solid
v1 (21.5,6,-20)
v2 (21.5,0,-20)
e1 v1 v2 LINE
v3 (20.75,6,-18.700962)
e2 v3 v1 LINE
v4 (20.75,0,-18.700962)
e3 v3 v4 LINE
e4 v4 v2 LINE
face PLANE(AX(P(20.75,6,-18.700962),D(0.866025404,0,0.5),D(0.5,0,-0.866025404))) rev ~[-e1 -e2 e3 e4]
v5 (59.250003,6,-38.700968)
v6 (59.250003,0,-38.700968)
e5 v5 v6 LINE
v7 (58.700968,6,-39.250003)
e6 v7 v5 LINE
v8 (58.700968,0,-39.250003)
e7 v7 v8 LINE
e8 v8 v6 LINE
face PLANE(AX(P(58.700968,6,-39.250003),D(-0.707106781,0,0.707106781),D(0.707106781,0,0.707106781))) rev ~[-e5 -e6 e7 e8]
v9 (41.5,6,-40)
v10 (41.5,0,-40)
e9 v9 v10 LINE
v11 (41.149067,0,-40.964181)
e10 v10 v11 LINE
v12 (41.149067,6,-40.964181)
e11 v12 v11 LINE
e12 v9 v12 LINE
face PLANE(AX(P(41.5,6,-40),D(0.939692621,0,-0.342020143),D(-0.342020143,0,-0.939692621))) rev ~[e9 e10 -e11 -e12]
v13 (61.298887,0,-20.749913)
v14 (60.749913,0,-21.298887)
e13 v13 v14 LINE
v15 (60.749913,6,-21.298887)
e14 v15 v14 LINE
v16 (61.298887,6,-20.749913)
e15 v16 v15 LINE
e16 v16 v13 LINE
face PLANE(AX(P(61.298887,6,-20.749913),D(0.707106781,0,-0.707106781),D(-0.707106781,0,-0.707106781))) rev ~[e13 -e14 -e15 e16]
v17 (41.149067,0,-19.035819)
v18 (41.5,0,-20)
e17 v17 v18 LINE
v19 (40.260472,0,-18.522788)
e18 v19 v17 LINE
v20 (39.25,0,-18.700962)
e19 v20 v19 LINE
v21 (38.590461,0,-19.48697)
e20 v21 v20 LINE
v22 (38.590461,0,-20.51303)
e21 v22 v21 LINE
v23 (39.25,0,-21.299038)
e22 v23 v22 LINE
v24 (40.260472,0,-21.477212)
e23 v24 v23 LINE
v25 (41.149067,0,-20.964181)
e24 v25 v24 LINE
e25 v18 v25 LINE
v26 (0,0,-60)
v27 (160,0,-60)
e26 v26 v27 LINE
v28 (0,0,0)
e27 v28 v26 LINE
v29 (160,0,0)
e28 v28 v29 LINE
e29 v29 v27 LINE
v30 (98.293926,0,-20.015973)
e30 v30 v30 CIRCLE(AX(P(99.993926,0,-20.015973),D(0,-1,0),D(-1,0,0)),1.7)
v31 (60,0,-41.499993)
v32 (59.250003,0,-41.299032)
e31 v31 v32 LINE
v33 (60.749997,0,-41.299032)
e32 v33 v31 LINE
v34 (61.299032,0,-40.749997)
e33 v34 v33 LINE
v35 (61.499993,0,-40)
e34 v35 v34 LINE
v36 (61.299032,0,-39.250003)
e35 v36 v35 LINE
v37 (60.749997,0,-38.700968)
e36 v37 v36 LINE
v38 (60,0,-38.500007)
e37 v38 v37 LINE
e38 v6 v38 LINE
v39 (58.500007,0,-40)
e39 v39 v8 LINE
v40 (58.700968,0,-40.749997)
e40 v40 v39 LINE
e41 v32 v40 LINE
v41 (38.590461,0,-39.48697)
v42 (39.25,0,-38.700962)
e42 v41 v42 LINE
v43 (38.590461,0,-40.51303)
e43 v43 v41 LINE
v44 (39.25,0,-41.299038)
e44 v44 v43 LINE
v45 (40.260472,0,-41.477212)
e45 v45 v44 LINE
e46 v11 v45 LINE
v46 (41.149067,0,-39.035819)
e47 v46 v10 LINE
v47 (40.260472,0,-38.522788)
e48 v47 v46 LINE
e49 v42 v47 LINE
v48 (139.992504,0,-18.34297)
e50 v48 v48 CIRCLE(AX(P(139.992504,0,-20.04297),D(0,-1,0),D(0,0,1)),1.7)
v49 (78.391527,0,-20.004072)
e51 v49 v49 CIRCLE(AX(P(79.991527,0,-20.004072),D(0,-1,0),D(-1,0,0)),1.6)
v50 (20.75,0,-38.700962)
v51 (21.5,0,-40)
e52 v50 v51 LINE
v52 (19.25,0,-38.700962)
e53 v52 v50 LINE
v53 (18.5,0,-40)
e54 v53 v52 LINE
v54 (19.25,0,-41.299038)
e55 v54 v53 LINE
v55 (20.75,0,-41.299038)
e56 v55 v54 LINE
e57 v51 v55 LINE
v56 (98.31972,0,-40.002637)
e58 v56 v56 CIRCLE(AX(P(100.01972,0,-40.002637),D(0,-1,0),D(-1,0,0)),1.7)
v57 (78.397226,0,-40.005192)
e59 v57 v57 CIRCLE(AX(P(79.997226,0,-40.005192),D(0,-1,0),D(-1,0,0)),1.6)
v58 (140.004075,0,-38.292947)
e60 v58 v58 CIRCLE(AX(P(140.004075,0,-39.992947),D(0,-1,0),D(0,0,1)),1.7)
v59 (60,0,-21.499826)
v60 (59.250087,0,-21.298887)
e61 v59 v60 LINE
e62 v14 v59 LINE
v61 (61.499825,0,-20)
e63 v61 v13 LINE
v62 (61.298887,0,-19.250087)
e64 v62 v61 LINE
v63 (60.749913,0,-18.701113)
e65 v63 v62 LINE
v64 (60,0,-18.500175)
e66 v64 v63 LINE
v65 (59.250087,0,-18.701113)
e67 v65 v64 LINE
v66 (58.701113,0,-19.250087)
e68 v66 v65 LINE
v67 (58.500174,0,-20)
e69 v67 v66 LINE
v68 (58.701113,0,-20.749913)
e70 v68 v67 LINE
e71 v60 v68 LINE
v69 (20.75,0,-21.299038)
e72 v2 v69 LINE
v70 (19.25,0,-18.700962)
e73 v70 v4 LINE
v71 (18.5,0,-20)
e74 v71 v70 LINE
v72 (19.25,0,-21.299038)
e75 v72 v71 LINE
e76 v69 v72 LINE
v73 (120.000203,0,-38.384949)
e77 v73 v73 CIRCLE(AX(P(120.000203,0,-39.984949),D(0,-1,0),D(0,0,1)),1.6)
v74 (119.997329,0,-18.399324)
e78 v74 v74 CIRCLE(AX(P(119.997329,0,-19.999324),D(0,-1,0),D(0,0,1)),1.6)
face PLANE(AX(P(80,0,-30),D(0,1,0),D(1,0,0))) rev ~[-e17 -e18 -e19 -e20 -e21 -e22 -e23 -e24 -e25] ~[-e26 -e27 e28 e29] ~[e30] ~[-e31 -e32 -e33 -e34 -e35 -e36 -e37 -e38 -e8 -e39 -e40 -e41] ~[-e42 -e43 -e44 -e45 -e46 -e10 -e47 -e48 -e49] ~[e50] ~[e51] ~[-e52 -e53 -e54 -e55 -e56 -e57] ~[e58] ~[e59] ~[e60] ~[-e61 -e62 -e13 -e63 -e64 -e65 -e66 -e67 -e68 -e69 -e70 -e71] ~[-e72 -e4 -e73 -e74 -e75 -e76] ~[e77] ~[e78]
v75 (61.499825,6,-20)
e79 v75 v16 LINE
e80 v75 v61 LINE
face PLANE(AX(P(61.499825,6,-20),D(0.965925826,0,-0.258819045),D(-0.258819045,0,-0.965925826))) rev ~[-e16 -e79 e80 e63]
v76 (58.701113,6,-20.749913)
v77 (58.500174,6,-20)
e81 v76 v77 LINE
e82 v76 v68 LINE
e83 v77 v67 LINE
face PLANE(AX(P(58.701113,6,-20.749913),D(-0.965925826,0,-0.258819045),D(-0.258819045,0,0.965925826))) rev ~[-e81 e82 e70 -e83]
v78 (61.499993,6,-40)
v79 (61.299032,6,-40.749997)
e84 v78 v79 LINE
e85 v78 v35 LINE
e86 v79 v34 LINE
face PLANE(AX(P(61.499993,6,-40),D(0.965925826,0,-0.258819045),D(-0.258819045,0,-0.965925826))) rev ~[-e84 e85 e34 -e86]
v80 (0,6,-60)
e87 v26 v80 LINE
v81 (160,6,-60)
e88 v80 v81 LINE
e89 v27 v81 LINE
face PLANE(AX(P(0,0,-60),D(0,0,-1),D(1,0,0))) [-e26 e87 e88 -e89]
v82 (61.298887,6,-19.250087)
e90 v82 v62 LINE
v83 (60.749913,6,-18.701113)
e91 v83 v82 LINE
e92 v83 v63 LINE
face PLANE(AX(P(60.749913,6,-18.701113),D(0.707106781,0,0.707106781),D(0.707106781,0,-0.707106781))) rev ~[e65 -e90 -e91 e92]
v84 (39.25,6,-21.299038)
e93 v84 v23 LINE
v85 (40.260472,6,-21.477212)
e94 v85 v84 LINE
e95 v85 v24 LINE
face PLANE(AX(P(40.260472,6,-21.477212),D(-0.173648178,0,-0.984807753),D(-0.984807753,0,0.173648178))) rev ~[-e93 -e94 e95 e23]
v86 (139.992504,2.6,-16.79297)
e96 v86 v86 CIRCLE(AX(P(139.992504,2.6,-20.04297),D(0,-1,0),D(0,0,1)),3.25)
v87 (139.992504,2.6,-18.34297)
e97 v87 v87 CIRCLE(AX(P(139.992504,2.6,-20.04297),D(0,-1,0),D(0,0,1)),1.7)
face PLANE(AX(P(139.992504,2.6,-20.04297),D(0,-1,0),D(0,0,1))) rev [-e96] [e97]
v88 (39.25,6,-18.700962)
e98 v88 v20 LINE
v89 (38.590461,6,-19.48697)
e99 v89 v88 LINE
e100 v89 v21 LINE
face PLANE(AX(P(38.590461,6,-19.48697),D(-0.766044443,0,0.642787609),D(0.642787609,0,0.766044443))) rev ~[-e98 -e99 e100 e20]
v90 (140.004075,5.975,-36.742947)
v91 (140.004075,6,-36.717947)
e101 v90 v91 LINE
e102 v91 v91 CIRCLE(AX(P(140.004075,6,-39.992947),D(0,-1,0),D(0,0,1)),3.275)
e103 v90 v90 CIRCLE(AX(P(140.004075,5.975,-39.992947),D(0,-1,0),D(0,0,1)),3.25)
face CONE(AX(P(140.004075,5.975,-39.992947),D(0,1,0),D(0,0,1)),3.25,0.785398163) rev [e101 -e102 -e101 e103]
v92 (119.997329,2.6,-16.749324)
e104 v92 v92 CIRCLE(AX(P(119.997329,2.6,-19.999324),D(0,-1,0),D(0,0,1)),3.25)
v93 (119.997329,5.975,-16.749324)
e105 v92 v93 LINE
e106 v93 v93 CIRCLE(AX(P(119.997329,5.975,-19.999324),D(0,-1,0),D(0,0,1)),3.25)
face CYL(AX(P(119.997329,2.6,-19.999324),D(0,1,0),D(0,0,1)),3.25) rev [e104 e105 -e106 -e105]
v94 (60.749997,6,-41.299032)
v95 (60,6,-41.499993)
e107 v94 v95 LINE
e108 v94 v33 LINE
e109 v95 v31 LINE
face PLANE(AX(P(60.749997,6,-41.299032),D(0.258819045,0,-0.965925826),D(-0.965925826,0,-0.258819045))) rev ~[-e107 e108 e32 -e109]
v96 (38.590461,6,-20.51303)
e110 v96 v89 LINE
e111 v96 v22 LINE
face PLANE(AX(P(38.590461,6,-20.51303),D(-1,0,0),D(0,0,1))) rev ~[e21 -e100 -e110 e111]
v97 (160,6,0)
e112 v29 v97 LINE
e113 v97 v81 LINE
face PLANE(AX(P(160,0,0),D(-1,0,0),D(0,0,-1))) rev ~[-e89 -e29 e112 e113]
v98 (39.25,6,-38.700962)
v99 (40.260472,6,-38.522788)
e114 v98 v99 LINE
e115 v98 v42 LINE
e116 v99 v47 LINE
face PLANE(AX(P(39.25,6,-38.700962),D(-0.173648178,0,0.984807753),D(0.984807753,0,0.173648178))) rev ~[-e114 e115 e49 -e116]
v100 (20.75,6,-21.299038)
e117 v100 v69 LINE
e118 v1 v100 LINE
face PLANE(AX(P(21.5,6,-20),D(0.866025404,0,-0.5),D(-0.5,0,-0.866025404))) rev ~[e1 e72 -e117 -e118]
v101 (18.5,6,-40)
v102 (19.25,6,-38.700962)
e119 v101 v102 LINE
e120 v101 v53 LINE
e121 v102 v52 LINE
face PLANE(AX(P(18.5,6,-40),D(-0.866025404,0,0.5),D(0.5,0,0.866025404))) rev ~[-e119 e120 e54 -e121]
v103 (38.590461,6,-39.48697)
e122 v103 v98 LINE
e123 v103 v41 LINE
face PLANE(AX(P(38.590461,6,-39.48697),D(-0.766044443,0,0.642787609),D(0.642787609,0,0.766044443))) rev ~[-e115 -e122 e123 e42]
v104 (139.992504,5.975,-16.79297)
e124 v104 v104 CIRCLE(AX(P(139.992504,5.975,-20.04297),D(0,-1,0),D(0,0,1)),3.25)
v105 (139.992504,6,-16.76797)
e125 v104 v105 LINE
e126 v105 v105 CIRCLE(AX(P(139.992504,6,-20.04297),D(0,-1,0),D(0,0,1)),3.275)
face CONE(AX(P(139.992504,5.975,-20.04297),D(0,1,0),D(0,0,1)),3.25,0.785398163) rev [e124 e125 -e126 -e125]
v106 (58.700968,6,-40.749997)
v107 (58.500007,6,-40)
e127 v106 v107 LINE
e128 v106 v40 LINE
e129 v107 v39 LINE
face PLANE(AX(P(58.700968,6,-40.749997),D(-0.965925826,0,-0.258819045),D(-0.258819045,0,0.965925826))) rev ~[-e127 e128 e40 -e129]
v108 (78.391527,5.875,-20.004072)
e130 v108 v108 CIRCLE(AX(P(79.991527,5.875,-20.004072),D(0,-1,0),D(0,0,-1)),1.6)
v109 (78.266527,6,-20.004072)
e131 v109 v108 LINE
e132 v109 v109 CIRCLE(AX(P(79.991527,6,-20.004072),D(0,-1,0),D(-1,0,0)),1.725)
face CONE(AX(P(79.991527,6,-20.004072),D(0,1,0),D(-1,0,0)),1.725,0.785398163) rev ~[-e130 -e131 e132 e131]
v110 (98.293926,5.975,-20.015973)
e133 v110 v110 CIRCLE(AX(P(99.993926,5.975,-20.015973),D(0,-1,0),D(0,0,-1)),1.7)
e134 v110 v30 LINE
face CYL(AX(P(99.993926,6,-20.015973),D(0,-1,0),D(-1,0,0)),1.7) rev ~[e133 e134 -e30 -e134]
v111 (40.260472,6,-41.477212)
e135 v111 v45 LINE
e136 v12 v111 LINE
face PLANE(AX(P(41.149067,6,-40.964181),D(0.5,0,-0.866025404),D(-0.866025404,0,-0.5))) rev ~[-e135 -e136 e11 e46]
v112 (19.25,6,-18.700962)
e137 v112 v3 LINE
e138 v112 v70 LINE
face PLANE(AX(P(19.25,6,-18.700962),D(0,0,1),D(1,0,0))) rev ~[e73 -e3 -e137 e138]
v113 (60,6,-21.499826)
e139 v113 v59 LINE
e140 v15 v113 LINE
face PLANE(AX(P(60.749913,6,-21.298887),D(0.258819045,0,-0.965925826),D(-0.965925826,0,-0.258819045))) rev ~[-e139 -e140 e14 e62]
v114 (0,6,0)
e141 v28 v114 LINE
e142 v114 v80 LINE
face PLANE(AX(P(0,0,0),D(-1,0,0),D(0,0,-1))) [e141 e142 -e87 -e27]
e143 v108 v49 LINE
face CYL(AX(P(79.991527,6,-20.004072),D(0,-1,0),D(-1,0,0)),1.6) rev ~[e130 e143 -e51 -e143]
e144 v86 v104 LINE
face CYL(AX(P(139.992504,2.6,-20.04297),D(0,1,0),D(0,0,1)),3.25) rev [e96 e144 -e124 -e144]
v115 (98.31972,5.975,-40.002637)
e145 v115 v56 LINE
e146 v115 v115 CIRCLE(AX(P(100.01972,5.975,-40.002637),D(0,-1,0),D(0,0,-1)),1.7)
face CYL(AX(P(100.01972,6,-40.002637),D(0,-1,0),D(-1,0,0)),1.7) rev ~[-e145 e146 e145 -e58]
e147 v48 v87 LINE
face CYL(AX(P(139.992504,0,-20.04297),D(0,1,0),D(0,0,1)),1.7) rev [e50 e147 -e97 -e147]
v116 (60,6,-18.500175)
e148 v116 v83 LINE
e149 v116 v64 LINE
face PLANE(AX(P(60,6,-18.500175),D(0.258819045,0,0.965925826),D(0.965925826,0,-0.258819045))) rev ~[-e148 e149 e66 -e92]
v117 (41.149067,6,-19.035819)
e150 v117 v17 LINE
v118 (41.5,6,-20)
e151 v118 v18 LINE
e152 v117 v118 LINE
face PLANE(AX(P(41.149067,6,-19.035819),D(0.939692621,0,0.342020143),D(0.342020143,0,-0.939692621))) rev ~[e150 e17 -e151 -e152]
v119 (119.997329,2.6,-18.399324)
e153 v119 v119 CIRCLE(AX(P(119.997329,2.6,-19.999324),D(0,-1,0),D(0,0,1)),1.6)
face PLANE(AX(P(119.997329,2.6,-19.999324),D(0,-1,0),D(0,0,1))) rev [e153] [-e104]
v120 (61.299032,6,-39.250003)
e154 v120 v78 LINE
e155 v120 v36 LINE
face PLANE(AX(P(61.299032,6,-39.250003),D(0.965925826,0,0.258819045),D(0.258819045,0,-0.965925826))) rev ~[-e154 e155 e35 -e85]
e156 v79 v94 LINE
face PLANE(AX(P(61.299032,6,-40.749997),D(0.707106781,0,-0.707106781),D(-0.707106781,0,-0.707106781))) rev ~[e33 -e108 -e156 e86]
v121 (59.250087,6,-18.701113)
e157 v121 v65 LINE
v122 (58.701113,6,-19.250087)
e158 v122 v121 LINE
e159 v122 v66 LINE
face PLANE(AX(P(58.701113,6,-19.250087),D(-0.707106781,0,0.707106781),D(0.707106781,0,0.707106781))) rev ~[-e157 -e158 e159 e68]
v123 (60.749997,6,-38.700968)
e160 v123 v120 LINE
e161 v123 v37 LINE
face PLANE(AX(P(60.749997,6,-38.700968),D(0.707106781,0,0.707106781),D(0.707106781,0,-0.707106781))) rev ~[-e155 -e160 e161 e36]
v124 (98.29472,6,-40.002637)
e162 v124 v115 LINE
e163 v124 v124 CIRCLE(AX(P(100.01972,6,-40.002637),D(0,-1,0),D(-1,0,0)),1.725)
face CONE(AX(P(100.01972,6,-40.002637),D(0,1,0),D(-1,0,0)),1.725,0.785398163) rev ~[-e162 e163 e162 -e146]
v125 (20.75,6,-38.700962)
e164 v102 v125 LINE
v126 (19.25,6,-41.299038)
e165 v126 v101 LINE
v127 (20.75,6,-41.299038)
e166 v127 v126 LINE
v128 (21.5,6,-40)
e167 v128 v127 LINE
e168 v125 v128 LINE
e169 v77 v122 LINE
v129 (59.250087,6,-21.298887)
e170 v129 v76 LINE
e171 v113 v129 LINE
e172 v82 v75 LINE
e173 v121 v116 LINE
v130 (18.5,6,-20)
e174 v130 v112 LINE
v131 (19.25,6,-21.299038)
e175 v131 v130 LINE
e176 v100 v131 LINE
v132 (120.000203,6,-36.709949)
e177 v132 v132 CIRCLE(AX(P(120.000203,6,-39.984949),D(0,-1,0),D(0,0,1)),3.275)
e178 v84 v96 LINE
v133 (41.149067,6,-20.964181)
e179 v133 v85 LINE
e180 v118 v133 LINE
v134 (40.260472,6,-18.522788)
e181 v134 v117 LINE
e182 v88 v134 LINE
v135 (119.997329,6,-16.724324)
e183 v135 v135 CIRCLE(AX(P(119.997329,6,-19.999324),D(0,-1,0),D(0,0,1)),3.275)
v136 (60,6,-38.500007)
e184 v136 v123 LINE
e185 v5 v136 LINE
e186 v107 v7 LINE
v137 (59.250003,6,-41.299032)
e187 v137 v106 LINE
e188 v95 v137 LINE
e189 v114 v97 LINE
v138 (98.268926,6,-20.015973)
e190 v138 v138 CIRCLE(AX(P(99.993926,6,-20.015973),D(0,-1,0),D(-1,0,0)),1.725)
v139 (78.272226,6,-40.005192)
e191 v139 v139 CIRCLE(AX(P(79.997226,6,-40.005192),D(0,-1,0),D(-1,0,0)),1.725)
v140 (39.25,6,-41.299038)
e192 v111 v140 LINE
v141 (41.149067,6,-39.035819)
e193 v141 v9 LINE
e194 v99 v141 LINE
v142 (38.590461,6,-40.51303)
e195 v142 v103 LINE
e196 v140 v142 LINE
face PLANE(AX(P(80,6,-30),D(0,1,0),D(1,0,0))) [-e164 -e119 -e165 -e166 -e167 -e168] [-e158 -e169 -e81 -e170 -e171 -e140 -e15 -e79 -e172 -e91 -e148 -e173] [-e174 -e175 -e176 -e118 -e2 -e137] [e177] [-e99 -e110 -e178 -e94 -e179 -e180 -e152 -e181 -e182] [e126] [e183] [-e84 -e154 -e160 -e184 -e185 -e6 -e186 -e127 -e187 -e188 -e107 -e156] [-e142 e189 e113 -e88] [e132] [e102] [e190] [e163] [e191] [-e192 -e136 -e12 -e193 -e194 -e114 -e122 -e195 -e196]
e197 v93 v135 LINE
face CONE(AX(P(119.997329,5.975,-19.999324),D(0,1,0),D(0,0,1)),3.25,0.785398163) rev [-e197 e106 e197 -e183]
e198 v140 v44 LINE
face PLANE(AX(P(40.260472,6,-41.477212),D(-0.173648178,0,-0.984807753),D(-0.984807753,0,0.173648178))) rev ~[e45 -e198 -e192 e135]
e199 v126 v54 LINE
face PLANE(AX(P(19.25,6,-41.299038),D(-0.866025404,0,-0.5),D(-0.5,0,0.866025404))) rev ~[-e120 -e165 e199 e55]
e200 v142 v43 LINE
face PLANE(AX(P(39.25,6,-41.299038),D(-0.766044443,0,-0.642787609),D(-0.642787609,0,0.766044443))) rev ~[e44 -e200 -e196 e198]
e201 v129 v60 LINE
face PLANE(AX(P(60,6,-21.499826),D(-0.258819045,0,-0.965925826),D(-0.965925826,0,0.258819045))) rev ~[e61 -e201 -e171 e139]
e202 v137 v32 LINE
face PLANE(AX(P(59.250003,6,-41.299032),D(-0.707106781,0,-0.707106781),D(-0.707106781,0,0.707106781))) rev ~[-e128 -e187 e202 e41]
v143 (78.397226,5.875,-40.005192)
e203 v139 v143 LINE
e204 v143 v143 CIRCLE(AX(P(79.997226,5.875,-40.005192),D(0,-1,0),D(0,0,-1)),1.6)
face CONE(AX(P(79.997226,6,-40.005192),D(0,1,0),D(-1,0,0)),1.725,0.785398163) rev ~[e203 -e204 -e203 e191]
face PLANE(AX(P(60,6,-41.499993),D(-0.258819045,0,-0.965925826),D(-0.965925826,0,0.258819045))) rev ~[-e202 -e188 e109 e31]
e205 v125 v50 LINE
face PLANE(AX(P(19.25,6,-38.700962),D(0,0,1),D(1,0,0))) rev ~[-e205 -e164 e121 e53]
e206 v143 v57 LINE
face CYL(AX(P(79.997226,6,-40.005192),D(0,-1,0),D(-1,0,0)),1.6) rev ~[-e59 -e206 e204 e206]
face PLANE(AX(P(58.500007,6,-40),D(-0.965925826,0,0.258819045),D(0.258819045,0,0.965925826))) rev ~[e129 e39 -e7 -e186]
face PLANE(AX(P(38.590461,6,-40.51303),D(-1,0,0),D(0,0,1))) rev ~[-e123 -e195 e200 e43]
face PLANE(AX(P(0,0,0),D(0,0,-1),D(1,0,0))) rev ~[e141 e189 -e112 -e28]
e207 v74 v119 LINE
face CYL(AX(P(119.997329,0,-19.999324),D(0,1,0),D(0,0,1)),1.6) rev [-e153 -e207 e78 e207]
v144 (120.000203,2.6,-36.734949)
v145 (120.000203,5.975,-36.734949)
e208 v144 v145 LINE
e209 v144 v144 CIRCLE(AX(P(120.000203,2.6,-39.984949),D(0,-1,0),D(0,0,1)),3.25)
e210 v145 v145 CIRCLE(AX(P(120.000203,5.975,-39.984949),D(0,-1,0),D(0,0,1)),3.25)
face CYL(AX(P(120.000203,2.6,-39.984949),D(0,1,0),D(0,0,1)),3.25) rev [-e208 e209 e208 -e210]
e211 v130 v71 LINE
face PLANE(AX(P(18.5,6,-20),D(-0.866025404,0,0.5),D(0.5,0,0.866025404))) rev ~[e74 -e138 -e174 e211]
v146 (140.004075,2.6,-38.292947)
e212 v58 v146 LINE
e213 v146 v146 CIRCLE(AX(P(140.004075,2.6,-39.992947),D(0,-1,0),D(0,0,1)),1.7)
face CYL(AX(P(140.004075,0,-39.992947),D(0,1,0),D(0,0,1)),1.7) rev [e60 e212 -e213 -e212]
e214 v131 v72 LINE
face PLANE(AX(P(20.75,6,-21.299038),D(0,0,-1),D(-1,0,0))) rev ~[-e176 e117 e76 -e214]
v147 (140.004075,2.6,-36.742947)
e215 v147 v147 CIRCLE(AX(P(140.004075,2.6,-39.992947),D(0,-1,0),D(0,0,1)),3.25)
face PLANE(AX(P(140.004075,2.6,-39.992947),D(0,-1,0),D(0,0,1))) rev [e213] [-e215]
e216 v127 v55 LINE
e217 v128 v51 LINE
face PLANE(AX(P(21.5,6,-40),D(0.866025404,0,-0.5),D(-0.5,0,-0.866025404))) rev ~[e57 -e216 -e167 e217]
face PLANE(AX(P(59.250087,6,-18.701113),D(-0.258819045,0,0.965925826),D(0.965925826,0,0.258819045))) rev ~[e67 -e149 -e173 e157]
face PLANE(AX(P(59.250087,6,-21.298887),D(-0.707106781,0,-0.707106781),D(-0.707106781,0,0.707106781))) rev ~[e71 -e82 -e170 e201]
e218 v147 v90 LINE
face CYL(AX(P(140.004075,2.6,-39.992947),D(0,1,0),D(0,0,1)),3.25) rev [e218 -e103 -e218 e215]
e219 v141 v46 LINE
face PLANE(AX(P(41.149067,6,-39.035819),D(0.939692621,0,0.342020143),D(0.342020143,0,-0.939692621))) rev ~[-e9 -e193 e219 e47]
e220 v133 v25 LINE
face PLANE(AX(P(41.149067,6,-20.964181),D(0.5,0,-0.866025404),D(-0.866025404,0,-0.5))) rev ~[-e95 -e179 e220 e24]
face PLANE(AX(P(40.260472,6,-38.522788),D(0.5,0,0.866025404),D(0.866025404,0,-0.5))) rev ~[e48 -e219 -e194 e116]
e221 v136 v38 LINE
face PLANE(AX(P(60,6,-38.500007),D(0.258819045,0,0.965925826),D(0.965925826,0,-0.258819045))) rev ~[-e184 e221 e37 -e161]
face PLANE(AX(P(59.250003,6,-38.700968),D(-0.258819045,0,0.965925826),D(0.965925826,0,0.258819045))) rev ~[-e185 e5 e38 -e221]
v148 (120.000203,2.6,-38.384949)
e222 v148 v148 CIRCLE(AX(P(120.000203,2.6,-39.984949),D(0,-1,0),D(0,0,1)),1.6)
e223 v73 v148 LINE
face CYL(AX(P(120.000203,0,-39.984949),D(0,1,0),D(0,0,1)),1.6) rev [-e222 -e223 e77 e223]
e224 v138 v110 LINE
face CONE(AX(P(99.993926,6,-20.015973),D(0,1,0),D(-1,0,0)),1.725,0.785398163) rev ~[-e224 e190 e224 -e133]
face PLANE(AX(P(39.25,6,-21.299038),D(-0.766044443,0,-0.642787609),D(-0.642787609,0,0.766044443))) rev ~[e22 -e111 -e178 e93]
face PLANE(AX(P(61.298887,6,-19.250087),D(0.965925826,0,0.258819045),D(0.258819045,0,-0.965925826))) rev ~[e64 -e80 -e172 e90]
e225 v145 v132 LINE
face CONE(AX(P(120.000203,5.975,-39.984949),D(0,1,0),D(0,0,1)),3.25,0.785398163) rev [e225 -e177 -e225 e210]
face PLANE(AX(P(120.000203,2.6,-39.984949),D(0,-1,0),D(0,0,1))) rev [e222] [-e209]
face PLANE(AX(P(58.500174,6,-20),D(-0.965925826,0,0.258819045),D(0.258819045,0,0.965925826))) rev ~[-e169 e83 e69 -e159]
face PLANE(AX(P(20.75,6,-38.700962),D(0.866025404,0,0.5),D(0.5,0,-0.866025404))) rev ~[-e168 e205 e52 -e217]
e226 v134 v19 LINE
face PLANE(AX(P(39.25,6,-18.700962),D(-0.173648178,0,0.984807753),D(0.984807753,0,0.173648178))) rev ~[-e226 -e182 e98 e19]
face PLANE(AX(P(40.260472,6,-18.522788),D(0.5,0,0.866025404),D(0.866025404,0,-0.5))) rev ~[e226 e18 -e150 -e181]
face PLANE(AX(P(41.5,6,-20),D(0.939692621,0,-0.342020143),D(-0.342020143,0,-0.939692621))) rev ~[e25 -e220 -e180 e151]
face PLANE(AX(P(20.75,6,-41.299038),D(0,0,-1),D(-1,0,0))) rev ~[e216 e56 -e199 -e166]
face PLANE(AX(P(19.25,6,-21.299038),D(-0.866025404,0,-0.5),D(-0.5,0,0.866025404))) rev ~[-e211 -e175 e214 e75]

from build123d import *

# Parameters (mm, degrees)
SKETCH1_W                      = 160
SKETCH1_H                      = 60
BOSS_EXTRUDE1_DEPTH            = 6
M3_CLEARANCE_HOLE1_D           = 3.4
M3_CLEARANCE_HOLE1_CSINK_D     = 3.45
M3_CLEARANCE_HOLE1_CSINK_ANGLE = 90
M3_CLEARANCE_HOLE3_D           = 3.4
M3_CLEARANCE_HOLE3_CSINK_D     = 3.45
M3_CLEARANCE_HOLE3_CSINK_ANGLE = 90
M3_CLEARANCE_HOLE4_D           = 3.2
M3_CLEARANCE_HOLE4_CSINK_D     = 3.45
M3_CLEARANCE_HOLE4_CSINK_ANGLE = 90
M3_CLEARANCE_HOLE5_D           = 3.2
M3_CLEARANCE_HOLE5_CSINK_D     = 3.45
M3_CLEARANCE_HOLE5_CSINK_ANGLE = 90
CUT_EXTRUDE3_DEPTH             = 171.985379492
CUT_EXTRUDE4_DEPTH             = 171.985379492
CUT_EXTRUDE5_DEPTH             = 171.985379492
CUT_EXTRUDE6_DEPTH             = 171.985379492
CUT_EXTRUDE7_DEPTH             = 171.985379492
CUT_EXTRUDE8_DEPTH             = 171.985379492


with BuildPart() as part:
    # Sketch1 → Boss-Extrude1 (new body)
    with BuildSketch(Plane(origin=(0, 0, 0), x_dir=(1, 0, 0), z_dir=(0, 1, 0))):
        with Locations((80, 30)):
            Rectangle(SKETCH1_W, SKETCH1_H)
    extrude(amount=BOSS_EXTRUDE1_DEPTH)

    # Sketch4 → CBORE for M3 Hex Socket Head Cap Screw1 (revolve, cut)
    with BuildSketch(Plane(origin=(139.992504276, 6, -20.042969634), x_dir=(0, 0, 1), z_dir=(1, 0, 0))):
        Polygon((0, 0), (0, 6), (1.7, 6), (1.7, 3.4), (3.25, 3.4), (3.25, 0.025), (3.275, 0), align=None)
    revolve(axis=Axis((139.992504276, 12.35, -20.042969634), (0, -1, 0)), mode=Mode.SUBTRACT)

    # Sketch7 → CBORE for M3 Hex Socket Head Cap Screw2 (revolve, cut)
    with BuildSketch(Plane(origin=(140.004074622, 6, -39.992947499), x_dir=(0, 0, 1), z_dir=(1, 0, 0))):
        Polygon((0, 0), (0, 6), (1.7, 6), (1.7, 3.4), (3.25, 3.4), (3.25, 0.025), (3.275, 0), align=None)
    revolve(axis=Axis((140.004074622, 12.35, -39.992947499), (0, -1, 0)), mode=Mode.SUBTRACT)

    # Sketch10 → CBORE for M3 Hex Socket Head Cap Screw3 (revolve, cut)
    with BuildSketch(Plane(origin=(120.000202739, 6, -39.984949452), x_dir=(0, 0, 1), z_dir=(1, 0, 0))):
        Polygon((0, 0), (0, 6), (1.6, 6), (1.6, 3.4), (3.25, 3.4), (3.25, 0.025), (3.275, 0), align=None)
    revolve(axis=Axis((120.000202739, 12.35, -39.984949452), (0, -1, 0)), mode=Mode.SUBTRACT)

    # Sketch13 → CBORE for M3 Hex Socket Head Cap Screw4 (revolve, cut)
    with BuildSketch(Plane(origin=(119.997329442, 6, -19.99932447), x_dir=(0, 0, 1), z_dir=(1, 0, 0))):
        Polygon((0, 0), (0, 6), (1.6, 6), (1.6, 3.4), (3.25, 3.4), (3.25, 0.025), (3.275, 0), align=None)
    revolve(axis=Axis((119.997329442, 12.35, -19.99932447), (0, -1, 0)), mode=Mode.SUBTRACT)

    # M3 Clearance Hole1 (through all)
    with Locations(Plane(origin=(0, 6, 0), x_dir=(1, 0, 0), z_dir=(0, 1, 0))):
        with Locations((100.019720451, 40.002637401)):
            CounterSinkHole(M3_CLEARANCE_HOLE1_D / 2, M3_CLEARANCE_HOLE1_CSINK_D / 2, counter_sink_angle=M3_CLEARANCE_HOLE1_CSINK_ANGLE)

    # M3 Clearance Hole3 (through all)
    with Locations(Plane(origin=(0, 6, 0), x_dir=(1, 0, 0), z_dir=(0, 1, 0))):
        with Locations((99.99392625, 20.015973)):
            CounterSinkHole(M3_CLEARANCE_HOLE3_D / 2, M3_CLEARANCE_HOLE3_CSINK_D / 2, counter_sink_angle=M3_CLEARANCE_HOLE3_CSINK_ANGLE)

    # M3 Clearance Hole4 (through all)
    with Locations(Plane(origin=(0, 6, 0), x_dir=(1, 0, 0), z_dir=(0, 1, 0))):
        with Locations((79.997225907, 40.005191988)):
            CounterSinkHole(M3_CLEARANCE_HOLE4_D / 2, M3_CLEARANCE_HOLE4_CSINK_D / 2, counter_sink_angle=M3_CLEARANCE_HOLE4_CSINK_ANGLE)

    # M3 Clearance Hole5 (through all)
    with Locations(Plane(origin=(0, 6, 0), x_dir=(1, 0, 0), z_dir=(0, 1, 0))):
        with Locations((79.991526723, 20.004071528)):
            CounterSinkHole(M3_CLEARANCE_HOLE5_D / 2, M3_CLEARANCE_HOLE5_CSINK_D / 2, counter_sink_angle=M3_CLEARANCE_HOLE5_CSINK_ANGLE)

    # Sketch2 → Cut-Extrude3 (cut, through all)
    with BuildSketch(Plane(origin=(0, 6, 0), x_dir=(1, 0, 0), z_dir=(0, 1, 0))):
        Polygon((61.499825244, 20.000000122), (61.29888673, 20.749912866), (60.7499125, 21.298887096), (59.999999756, 21.49982561), (59.250087012, 21.298887096), (58.701112782, 20.749912866), (58.500174268, 20.000000122), (58.701112782, 19.250087378), (59.250087012, 18.701113148), (59.999999756, 18.500174634), (60.7499125, 18.701113148), (61.29888673, 19.250087378), align=None)
    extrude(amount=-CUT_EXTRUDE3_DEPTH, mode=Mode.SUBTRACT)

    # Sketch35 → Cut-Extrude4 (cut, through all)
    with BuildSketch(Plane(origin=(0, 6, 0), x_dir=(1, 0, 0), z_dir=(0, 1, 0))):
        Polygon((58.500006975, 40), (58.700967935, 39.250003488), (59.250003488, 38.700967935), (60, 38.500006975), (60.749996512, 38.700967935), (61.299032065, 39.250003488), (61.499993025, 40), (61.299032065, 40.749996512), (60.749996512, 41.299032065), (60, 41.499993025), (59.250003488, 41.299032065), (58.700967935, 40.749996512), align=None)
    extrude(amount=-CUT_EXTRUDE4_DEPTH, mode=Mode.SUBTRACT)

    # Sketch36 → Cut-Extrude5 (cut, through all)
    with BuildSketch(Plane(origin=(0, 6, 0), x_dir=(1, 0, 0), z_dir=(0, 1, 0))):
        Polygon((41.5, 20), (41.149066665, 20.964181415), (40.260472267, 21.47721163), (39.25, 21.299038106), (38.590461069, 20.513030215), (38.590461069, 19.486969785), (39.25, 18.700961894), (40.260472267, 18.52278837), (41.149066665, 19.035818585), align=None)
    extrude(amount=-CUT_EXTRUDE5_DEPTH, mode=Mode.SUBTRACT)

    # Sketch37 → Cut-Extrude6 (cut, through all)
    with BuildSketch(Plane(origin=(0, 6, 0), x_dir=(1, 0, 0), z_dir=(0, 1, 0))):
        Polygon((41.5, 40), (41.149066665, 40.964181415), (40.260472267, 41.47721163), (39.25, 41.299038106), (38.590461069, 40.513030215), (38.590461069, 39.486969785), (39.25, 38.700961894), (40.260472267, 38.52278837), (41.149066665, 39.035818585), align=None)
    extrude(amount=-CUT_EXTRUDE6_DEPTH, mode=Mode.SUBTRACT)

    # Sketch38 → Cut-Extrude7 (cut, through all)
    with BuildSketch(Plane(origin=(0, 6, 0), x_dir=(1, 0, 0), z_dir=(0, 1, 0))):
        Polygon((21.5, 20), (20.75, 21.299038106), (19.25, 21.299038106), (18.5, 20), (19.25, 18.700961894), (20.75, 18.700961894), align=None)
    extrude(amount=-CUT_EXTRUDE7_DEPTH, mode=Mode.SUBTRACT)

    # Sketch39 → Cut-Extrude8 (cut, through all)
    with BuildSketch(Plane(origin=(0, 6, 0), x_dir=(1, 0, 0), z_dir=(0, 1, 0))):
        Polygon((21.5, 40), (20.75, 41.299038106), (19.25, 41.299038106), (18.5, 40), (19.25, 38.700961894), (20.75, 38.700961894), align=None)
    extrude(amount=-CUT_EXTRUDE8_DEPTH, mode=Mode.SUBTRACT)


solid = part.part
